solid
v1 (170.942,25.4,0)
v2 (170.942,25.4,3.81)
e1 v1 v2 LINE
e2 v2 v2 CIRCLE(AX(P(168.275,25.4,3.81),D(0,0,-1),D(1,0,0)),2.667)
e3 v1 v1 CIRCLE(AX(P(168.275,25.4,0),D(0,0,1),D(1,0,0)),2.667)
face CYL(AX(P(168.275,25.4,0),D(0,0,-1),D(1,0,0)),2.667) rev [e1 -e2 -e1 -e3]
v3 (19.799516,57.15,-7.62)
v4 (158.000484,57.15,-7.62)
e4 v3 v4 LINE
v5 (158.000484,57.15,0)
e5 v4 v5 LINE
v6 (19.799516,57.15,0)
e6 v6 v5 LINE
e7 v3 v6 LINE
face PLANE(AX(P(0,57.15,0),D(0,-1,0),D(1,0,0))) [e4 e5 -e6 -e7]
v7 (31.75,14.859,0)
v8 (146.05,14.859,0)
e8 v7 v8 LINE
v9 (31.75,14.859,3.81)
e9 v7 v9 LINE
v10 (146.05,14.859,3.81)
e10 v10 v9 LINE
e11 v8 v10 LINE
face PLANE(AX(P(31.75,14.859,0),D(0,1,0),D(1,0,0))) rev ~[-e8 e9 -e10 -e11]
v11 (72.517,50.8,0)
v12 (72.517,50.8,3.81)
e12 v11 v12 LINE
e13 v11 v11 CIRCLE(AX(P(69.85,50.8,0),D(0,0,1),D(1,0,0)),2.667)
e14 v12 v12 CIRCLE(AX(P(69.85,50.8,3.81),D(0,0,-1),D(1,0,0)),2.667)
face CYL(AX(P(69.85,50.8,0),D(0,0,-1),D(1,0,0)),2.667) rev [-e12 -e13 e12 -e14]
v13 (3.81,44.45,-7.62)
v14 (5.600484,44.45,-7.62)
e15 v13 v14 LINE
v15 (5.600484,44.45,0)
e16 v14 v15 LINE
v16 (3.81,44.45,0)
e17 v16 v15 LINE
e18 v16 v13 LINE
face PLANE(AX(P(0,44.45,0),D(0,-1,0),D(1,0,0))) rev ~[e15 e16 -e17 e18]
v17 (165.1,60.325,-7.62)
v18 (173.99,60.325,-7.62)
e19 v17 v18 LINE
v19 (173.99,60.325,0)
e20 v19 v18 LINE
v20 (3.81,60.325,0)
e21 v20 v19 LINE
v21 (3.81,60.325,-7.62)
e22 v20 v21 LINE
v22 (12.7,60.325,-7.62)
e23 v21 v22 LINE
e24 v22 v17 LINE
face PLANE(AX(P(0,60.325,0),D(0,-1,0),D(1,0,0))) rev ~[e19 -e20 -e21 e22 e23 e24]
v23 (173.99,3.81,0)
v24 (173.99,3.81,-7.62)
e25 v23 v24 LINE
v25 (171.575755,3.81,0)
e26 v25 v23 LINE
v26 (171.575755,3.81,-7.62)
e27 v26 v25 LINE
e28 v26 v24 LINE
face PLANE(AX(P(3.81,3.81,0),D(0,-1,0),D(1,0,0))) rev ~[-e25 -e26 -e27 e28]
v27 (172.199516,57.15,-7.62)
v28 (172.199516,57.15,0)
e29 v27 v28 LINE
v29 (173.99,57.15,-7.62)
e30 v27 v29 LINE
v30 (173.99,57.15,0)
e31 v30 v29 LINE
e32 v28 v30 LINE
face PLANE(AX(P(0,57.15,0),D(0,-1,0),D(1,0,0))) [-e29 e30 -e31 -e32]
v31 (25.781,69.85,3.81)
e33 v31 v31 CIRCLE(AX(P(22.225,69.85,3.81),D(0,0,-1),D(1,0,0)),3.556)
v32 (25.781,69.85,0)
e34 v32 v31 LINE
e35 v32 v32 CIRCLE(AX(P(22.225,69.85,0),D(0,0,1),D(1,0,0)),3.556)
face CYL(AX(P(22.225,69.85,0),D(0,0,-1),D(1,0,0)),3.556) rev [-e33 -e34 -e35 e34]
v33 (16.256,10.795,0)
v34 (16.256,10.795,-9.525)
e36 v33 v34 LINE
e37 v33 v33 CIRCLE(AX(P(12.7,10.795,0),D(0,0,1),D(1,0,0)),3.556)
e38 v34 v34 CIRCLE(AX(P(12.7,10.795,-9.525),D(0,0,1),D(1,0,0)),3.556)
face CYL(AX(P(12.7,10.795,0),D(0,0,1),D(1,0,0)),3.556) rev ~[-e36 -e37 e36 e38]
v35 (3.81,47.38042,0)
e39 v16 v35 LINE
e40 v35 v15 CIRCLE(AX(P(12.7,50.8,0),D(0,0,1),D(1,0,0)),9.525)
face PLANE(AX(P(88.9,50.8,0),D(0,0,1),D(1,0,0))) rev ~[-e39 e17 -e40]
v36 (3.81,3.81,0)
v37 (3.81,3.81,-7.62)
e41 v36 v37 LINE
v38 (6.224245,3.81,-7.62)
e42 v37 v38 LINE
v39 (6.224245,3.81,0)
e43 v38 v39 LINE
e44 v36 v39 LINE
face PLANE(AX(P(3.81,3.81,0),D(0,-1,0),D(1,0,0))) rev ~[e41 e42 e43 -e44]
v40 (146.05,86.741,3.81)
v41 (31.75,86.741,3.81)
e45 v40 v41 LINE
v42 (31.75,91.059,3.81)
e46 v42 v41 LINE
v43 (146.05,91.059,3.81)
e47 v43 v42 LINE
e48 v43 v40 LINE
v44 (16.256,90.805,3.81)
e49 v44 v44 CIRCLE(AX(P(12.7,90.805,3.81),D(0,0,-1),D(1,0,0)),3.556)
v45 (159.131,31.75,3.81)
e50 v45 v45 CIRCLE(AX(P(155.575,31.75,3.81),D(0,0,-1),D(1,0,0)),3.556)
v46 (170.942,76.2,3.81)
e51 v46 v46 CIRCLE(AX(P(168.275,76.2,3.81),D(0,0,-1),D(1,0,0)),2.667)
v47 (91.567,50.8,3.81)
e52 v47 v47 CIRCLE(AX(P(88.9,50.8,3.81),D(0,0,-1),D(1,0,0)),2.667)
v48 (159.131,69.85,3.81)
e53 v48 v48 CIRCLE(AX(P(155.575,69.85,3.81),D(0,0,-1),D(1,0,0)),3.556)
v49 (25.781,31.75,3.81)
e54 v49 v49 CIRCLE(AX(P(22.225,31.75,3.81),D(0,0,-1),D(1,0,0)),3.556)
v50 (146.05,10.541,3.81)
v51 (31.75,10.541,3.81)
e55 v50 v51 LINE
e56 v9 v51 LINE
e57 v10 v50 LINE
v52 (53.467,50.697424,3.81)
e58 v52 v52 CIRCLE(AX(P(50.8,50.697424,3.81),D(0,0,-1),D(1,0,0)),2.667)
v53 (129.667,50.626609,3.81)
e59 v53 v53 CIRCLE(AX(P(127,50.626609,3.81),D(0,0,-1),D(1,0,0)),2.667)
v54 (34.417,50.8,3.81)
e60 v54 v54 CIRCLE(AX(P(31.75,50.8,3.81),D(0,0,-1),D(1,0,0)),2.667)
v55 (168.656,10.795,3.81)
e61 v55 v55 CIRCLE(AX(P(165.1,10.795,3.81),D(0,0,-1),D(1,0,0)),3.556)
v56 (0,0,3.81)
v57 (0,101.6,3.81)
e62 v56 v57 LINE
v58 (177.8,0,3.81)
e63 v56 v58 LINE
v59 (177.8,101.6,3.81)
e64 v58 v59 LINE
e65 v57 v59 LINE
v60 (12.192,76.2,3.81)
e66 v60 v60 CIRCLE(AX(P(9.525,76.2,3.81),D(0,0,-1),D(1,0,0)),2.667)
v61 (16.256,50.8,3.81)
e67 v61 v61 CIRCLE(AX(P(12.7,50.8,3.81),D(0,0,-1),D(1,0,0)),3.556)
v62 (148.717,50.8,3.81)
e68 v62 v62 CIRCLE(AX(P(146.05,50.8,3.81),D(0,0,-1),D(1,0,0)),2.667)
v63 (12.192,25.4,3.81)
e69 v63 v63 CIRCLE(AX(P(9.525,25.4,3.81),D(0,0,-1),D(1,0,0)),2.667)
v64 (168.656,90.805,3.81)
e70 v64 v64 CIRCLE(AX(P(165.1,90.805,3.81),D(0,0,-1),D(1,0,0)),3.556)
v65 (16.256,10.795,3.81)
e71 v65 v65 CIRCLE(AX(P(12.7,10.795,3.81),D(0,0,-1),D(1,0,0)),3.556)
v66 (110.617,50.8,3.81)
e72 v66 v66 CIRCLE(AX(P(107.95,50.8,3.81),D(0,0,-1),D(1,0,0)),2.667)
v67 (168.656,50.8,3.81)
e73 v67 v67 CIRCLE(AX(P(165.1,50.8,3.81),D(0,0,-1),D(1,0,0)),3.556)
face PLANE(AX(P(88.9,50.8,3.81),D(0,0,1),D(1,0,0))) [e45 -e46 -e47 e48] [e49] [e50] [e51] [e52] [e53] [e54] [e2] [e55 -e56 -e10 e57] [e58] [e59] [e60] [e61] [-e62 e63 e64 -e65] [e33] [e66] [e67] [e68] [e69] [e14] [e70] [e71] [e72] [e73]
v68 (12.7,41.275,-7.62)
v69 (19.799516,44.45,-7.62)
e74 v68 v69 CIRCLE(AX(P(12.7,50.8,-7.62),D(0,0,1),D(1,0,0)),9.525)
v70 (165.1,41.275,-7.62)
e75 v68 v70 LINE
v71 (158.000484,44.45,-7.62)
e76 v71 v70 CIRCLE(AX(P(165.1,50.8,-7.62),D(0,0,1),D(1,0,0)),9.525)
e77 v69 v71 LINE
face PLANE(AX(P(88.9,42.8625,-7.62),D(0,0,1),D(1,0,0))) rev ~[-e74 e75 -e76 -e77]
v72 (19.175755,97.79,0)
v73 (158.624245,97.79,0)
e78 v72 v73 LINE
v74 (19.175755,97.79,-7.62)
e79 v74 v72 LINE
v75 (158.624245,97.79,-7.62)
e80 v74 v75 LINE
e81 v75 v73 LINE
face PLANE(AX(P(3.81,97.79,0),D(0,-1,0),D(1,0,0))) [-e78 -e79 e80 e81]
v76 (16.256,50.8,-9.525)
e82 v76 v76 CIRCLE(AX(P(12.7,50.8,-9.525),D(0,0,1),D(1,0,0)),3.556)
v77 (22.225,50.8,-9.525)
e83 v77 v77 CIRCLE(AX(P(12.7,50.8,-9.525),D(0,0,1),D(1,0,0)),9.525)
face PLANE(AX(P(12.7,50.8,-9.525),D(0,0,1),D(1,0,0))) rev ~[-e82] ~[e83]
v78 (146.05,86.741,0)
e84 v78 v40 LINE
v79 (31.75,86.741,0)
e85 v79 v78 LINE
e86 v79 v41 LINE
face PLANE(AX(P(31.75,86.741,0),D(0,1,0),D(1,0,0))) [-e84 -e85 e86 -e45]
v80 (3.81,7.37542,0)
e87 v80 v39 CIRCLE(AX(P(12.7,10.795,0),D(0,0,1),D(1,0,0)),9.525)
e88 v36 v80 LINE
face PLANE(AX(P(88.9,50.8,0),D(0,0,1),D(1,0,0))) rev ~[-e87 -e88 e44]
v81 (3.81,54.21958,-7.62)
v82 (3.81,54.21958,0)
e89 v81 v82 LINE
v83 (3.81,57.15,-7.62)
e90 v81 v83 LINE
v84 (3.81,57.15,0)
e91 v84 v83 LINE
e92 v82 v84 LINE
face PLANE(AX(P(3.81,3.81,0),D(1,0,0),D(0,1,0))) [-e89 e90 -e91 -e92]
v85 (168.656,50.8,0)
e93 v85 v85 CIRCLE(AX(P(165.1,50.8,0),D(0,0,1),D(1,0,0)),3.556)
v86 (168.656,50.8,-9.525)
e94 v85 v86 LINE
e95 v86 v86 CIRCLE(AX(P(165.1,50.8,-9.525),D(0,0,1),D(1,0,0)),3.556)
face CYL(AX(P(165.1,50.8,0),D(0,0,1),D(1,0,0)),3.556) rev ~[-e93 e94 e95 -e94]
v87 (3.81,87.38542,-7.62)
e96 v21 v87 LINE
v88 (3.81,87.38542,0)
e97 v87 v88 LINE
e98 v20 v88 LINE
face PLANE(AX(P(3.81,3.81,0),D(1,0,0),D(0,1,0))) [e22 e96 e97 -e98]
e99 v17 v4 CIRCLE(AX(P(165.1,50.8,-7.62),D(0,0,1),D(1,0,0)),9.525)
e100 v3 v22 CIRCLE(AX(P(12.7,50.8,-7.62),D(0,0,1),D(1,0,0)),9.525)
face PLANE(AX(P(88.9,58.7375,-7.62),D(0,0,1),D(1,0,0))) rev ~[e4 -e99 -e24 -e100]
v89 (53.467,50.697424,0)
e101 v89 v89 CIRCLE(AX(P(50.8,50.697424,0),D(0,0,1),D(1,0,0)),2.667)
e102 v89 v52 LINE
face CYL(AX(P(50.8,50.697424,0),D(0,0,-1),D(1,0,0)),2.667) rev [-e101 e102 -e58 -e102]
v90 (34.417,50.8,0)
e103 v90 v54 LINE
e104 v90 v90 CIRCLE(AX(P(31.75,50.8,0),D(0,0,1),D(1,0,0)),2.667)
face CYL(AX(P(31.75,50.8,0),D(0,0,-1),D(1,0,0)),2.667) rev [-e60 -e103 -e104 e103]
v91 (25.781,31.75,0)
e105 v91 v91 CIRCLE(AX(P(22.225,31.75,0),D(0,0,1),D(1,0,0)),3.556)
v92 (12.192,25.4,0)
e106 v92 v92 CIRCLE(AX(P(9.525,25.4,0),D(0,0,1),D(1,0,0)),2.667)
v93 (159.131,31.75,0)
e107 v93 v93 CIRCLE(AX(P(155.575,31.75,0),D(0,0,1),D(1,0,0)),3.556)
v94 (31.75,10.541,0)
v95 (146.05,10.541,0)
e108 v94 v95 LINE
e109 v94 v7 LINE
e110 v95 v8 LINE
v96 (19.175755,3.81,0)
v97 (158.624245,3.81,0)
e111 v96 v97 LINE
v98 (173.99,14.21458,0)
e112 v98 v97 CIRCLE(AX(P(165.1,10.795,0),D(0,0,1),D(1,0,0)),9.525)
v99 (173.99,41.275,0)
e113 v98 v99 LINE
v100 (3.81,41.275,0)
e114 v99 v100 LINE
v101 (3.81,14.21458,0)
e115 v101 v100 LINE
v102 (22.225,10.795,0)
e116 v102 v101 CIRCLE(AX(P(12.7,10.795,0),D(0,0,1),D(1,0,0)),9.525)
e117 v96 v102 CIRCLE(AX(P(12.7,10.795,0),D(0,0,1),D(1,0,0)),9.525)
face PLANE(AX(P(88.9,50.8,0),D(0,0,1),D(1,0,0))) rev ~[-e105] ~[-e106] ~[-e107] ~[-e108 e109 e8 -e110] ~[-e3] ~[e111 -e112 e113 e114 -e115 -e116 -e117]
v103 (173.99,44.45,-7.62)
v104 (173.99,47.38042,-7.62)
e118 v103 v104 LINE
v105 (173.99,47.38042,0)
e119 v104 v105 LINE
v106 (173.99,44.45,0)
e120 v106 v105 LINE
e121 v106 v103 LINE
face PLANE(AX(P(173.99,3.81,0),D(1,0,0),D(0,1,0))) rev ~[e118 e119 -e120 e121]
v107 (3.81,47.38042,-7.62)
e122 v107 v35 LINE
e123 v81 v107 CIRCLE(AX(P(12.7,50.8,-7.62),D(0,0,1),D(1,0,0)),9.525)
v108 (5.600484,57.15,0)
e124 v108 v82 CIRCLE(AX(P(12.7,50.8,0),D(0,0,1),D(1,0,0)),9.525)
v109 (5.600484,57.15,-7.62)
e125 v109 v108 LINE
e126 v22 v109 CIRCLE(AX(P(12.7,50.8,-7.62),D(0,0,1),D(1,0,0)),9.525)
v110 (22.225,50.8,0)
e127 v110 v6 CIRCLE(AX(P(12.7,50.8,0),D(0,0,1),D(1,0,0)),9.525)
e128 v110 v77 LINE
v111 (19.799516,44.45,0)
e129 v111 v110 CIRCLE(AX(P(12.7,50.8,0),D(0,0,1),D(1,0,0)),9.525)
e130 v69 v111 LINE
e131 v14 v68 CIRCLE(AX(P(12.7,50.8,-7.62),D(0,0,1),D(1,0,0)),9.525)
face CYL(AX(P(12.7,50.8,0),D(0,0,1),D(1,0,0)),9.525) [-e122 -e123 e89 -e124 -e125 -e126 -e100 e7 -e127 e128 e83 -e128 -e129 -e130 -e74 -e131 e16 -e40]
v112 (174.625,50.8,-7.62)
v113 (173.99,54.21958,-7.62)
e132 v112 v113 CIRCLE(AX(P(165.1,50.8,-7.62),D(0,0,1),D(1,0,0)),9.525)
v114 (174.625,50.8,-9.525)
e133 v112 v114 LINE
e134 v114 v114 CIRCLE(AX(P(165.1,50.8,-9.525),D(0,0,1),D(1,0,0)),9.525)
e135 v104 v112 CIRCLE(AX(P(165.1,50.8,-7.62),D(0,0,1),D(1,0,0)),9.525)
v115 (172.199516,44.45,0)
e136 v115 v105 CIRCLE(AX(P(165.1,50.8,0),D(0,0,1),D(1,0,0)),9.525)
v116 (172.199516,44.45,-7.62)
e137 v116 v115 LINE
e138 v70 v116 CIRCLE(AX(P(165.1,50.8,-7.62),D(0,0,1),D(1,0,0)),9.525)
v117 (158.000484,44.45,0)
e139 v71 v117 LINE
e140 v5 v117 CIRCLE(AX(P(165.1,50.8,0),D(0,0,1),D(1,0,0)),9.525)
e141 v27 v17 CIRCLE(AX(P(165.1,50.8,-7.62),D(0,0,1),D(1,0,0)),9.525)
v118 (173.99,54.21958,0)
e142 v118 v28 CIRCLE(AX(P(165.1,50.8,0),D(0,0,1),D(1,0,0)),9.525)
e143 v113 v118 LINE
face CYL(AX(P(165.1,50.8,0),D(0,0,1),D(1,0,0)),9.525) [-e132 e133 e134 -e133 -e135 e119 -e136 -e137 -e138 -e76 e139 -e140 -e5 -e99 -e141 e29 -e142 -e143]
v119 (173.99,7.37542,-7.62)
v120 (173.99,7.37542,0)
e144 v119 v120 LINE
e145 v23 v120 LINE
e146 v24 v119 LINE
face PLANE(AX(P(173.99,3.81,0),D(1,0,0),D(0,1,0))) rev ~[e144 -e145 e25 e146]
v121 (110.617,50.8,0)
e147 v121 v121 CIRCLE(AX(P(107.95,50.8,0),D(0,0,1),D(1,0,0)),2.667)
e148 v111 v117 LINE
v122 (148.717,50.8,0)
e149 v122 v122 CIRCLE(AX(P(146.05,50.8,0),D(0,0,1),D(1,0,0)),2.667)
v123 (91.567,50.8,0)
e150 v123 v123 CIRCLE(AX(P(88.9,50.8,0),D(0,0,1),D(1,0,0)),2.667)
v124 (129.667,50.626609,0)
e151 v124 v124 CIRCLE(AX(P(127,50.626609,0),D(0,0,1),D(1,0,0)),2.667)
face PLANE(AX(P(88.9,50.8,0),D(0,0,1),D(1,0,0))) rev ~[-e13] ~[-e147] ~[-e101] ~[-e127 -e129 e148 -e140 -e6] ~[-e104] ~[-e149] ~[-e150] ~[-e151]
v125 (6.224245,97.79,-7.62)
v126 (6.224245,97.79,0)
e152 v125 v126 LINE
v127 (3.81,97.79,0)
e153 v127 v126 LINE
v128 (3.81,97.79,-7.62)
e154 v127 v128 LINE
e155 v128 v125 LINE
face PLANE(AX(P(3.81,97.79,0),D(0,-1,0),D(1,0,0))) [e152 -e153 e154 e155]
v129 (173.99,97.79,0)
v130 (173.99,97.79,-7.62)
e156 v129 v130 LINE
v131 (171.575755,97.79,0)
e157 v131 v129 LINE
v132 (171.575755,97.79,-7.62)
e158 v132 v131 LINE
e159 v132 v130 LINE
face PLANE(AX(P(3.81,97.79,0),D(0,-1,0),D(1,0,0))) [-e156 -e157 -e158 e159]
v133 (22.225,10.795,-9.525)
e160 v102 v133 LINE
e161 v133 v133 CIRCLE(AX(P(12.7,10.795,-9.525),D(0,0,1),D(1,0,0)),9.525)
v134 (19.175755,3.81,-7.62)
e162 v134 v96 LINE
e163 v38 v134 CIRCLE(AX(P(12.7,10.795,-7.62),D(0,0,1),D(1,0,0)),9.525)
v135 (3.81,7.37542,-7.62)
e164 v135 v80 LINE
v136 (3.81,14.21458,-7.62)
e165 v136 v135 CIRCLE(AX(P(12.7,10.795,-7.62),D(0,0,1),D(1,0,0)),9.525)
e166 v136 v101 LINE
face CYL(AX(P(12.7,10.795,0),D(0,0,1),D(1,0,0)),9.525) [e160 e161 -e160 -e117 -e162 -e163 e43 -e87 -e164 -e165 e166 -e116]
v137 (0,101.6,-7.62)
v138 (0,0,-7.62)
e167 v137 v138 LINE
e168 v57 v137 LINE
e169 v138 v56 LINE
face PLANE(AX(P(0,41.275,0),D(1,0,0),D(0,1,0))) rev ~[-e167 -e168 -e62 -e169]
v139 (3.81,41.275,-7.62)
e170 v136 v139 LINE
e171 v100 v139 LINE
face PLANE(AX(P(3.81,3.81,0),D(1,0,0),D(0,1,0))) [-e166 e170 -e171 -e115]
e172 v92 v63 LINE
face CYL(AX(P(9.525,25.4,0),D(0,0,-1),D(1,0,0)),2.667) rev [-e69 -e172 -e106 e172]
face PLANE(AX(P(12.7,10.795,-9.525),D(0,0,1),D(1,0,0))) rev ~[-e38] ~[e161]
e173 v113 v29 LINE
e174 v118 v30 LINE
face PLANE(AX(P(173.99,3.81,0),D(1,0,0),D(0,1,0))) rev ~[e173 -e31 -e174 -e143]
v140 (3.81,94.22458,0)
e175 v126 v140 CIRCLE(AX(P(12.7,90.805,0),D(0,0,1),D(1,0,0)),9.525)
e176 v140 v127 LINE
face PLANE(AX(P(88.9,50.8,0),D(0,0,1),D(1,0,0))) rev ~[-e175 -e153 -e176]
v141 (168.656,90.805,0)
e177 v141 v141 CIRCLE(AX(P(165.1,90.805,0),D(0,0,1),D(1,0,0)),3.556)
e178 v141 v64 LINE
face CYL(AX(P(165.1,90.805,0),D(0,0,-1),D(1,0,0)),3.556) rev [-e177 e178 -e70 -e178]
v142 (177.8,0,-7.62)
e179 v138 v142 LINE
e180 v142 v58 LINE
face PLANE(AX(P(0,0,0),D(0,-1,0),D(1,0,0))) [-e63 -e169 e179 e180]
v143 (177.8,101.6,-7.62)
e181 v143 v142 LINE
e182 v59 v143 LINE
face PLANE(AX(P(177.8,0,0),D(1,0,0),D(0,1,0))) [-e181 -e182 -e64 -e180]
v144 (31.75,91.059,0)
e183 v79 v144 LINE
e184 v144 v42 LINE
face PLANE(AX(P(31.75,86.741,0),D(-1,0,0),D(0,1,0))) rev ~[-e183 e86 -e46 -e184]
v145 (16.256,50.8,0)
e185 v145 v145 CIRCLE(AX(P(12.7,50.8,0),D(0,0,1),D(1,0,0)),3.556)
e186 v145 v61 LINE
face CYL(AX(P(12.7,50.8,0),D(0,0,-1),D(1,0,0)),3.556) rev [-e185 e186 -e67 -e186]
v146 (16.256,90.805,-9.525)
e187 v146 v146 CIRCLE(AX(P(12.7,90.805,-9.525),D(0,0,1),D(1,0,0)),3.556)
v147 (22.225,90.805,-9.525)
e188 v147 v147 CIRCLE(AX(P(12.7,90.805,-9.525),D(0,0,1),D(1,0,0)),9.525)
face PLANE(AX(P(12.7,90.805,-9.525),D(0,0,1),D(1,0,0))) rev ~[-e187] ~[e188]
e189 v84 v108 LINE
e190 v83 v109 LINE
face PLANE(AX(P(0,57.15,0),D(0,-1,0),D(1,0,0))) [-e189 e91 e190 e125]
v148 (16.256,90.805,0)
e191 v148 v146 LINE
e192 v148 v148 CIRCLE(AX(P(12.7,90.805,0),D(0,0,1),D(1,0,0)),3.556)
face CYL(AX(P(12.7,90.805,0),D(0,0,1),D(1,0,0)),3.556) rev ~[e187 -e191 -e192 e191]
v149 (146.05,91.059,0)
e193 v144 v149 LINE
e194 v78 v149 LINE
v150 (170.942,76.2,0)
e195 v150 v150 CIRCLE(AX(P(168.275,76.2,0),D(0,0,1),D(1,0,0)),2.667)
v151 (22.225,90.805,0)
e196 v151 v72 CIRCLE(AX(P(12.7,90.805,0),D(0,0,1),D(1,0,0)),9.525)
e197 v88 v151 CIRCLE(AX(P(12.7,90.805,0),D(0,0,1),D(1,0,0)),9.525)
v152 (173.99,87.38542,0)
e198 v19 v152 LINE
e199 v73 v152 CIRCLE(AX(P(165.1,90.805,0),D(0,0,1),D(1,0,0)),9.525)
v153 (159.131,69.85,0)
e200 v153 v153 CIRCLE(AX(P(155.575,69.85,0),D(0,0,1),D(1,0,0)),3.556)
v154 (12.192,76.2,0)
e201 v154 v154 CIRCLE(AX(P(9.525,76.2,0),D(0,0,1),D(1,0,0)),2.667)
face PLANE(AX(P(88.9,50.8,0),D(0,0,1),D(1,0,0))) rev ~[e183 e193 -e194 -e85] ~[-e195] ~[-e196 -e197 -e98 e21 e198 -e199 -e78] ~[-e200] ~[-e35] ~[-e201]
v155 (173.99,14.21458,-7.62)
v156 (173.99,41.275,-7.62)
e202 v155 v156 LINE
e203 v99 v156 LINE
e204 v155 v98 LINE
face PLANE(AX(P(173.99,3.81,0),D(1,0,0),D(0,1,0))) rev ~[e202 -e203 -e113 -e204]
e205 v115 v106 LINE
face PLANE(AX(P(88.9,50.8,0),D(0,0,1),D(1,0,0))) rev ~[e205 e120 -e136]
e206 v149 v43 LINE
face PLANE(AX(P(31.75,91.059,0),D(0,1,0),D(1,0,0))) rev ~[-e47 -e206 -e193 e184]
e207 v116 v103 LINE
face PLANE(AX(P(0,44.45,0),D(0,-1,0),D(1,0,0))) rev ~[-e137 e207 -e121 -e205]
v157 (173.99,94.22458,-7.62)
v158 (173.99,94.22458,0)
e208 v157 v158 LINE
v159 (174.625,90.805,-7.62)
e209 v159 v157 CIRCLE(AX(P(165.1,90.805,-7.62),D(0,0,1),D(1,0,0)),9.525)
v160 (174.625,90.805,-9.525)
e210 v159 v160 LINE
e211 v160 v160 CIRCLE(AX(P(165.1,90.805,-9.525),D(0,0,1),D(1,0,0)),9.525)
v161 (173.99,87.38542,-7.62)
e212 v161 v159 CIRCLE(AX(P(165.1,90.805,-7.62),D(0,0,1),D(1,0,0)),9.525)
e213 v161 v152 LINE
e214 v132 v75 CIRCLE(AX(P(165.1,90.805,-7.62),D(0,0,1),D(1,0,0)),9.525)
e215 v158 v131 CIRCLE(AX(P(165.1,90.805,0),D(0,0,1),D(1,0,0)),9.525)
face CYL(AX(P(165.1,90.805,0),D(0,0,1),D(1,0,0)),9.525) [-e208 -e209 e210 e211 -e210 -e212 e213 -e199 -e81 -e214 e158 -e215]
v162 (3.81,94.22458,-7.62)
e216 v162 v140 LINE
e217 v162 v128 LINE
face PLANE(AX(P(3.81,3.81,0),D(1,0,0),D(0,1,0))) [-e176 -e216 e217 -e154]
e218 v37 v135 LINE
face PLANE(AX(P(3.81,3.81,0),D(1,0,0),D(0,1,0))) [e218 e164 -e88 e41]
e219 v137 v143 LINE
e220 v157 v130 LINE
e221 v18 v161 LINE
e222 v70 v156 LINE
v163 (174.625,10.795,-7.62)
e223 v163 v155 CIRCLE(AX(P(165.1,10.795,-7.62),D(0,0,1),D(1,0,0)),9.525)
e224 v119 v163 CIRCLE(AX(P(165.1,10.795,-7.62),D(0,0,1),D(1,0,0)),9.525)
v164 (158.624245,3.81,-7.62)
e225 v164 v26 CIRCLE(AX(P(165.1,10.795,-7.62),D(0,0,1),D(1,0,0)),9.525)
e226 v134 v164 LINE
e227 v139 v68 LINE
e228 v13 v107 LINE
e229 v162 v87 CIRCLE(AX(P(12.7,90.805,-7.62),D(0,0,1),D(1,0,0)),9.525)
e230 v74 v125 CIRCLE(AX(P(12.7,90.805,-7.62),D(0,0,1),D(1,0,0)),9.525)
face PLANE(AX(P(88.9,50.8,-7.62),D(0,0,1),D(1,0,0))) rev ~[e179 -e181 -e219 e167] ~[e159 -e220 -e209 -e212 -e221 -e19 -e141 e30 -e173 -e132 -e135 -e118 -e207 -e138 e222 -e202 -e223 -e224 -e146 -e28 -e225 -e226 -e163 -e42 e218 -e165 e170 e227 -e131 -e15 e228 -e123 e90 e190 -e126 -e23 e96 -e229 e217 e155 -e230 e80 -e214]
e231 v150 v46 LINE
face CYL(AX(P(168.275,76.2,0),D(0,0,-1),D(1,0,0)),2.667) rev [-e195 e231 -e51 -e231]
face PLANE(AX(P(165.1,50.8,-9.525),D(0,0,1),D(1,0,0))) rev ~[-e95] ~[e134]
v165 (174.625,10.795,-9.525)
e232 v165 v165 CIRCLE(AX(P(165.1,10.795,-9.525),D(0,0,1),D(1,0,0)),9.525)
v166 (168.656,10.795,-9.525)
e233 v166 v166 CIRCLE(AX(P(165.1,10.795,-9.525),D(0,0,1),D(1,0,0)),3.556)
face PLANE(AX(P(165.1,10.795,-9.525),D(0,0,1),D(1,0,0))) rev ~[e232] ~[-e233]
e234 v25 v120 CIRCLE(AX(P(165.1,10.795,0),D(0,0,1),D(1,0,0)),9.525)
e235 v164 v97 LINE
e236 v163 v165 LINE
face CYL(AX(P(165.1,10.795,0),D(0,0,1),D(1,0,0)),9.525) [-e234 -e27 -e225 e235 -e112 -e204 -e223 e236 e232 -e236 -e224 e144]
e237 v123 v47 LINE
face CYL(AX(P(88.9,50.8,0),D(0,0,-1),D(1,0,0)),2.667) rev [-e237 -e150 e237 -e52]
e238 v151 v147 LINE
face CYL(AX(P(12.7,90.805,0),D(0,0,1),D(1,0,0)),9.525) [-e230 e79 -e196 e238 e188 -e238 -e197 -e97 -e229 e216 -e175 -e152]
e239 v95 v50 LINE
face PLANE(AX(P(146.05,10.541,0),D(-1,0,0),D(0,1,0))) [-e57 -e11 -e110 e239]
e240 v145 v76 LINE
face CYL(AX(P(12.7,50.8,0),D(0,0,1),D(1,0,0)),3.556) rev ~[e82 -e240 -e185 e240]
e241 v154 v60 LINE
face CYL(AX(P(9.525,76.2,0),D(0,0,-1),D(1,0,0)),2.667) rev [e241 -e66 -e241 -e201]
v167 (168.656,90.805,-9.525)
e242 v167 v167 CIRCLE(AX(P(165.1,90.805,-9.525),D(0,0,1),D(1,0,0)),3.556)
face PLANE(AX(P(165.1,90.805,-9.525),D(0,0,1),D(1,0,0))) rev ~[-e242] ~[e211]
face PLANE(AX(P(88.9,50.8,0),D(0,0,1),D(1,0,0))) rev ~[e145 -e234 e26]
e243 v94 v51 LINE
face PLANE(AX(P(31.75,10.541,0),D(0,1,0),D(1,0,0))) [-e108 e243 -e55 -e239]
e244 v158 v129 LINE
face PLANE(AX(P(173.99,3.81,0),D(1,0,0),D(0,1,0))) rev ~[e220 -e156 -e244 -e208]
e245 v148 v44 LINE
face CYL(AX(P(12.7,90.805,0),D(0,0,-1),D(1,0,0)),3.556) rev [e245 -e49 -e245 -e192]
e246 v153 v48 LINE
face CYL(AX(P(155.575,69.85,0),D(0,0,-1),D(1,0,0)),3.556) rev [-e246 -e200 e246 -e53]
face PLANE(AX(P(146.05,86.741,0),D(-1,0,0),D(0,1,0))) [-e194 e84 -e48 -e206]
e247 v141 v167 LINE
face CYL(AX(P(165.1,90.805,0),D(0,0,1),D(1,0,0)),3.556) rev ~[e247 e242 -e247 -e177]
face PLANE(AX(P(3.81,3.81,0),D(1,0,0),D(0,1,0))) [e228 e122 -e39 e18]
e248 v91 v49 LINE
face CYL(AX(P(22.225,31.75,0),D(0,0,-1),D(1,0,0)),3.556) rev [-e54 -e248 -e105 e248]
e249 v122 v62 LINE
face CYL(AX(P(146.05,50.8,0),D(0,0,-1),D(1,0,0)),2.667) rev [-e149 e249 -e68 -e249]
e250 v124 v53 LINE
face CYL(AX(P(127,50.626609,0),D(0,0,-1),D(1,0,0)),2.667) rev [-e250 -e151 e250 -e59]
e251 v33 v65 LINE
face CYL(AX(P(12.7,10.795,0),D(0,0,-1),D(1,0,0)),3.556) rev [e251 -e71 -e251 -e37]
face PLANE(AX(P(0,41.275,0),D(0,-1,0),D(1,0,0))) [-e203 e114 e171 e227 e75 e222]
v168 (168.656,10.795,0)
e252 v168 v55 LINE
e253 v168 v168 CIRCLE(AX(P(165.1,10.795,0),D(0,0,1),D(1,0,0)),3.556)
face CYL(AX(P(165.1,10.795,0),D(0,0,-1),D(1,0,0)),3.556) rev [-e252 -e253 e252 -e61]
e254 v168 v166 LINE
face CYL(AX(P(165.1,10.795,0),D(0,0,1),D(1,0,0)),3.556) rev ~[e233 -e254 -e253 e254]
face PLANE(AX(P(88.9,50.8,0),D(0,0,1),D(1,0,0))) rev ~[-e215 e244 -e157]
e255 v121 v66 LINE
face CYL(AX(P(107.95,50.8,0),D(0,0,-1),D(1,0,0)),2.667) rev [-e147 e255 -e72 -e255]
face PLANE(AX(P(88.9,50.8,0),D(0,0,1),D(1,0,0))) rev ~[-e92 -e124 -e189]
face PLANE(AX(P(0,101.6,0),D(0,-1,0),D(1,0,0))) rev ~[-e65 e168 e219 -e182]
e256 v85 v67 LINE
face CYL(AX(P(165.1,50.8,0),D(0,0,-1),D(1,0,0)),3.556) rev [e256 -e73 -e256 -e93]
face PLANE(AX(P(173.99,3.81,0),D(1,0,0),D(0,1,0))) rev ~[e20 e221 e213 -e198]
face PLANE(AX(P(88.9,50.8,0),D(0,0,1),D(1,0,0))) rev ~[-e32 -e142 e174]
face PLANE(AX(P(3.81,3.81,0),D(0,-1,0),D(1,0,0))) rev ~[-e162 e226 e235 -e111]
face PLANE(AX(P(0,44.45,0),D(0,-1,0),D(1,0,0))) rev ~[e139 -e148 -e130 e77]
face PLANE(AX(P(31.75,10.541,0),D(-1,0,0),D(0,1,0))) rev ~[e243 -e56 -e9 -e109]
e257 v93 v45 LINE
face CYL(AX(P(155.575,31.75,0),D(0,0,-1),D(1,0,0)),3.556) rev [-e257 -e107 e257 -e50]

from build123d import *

# Parameters (mm, degrees)
F0_W           = 177.8
F0_H           = 101.6
F1_DEPTH       = 3.81
F3_W           = 114.3
F3_H           = 4.318
F4_DEPTH       = 3.811
F5_R           = 9.525
F6_DEPTH       = 9.525
F8_W           = 177.8
F8_H           = 101.6
F8_W_2         = 170.18
F8_H_2         = 93.98
F9_DEPTH       = 7.62
F10_R          = 3.556
F11_DEPTH      = 9.526
F11_DEPTH_BACK = 3.811
F7_W           = 177.8
F7_H           = 3.175
F13_DEPTH      = 7.62
F2_R           = 3.556
F14_DEPTH      = 3.811
F12_R          = 2.667
F15_DEPTH      = 3.811


with BuildPart() as f1:
    # F0 (on Top) → F1 (new body)
    with BuildSketch(Plane.XY):
        with Locations((88.9, 50.8)):
            Rectangle(F0_W, F0_H)
    extrude(amount=F1_DEPTH)

    # F3 (on Top) → F4 (cut, through all)
    with BuildSketch(Plane.XY):
        with Locations((88.9, 88.9)):
            Rectangle(F3_W, F3_H)
        with Locations((88.9, 12.7)):
            Rectangle(F3_W, F3_H)
    extrude(amount=F4_DEPTH, mode=Mode.SUBTRACT)

    # F5 (on Top) → F6 (join)
    with BuildSketch(Plane.XY):
        with Locations((12.7, 50.8)):
            Circle(F5_R)
        with Locations((12.7, 90.805)):
            Circle(F5_R)
        with Locations((12.7, 10.795)):
            Circle(F5_R)
        with Locations((165.1, 90.805)):
            Circle(F5_R)
        with Locations((165.1, 50.8)):
            Circle(F5_R)
        with Locations((165.1, 10.795)):
            Circle(F5_R)
    extrude(amount=-F6_DEPTH)

    # F8 (on Top) → F9 (join)
    with BuildSketch(Plane.XY):
        with Locations((88.9, 50.8)):
            Rectangle(F8_W, F8_H)
        with Locations((88.9, 50.8)):
            Rectangle(F8_W_2, F8_H_2, mode=Mode.SUBTRACT)
    extrude(amount=-F9_DEPTH)

    # F10 (on Top) → F11 (cut, two sides)
    with BuildSketch(Plane.XY) as f11_sk:
        with Locations((165.1, 50.8)):
            Circle(F10_R)
        with Locations((165.1, 90.805)):
            Circle(F10_R)
        with Locations((12.7, 10.795)):
            Circle(F10_R)
        with Locations((12.7, 50.8)):
            Circle(F10_R)
        with Locations((12.7, 90.805)):
            Circle(F10_R)
        with Locations((165.1, 10.795)):
            Circle(F10_R)
    extrude(amount=-F11_DEPTH, mode=Mode.SUBTRACT)
    extrude(f11_sk.sketch, amount=F11_DEPTH_BACK, mode=Mode.SUBTRACT)

    # F7 (on Top) → F13 (join)
    with BuildSketch(Plane.XY):
        with Locations((88.9, 42.8625)):
            Rectangle(F7_W, F7_H)
        with Locations((88.9, 58.7375)):
            Rectangle(F7_W, F7_H)
    extrude(amount=-F13_DEPTH)

    # F2 (on Top) → F14 (cut, through all)
    with BuildSketch(Plane.XY):
        with Locations((22.225, 69.85)):
            Circle(F2_R)
        with Locations((22.225, 31.75)):
            Circle(F2_R)
        with Locations((155.575, 69.85)):
            Circle(F2_R)
        with Locations((155.575, 31.75)):
            Circle(F2_R)
    extrude(amount=F14_DEPTH, mode=Mode.SUBTRACT)

    # F12 (on Top) → F15 (cut, through all)
    with BuildSketch(Plane.XY):
        with Locations((31.75, 50.8)):
            Circle(F12_R)
        with Locations((88.9, 50.8)):
            Circle(F12_R)
        with Locations((146.05, 50.8)):
            Circle(F12_R)
        with Locations((9.525, 25.4)):
            Circle(F12_R)
        with Locations((9.525, 76.2)):
            Circle(F12_R)
        with Locations((168.275, 25.4)):
            Circle(F12_R)
        with Locations((168.275, 76.2)):
            Circle(F12_R)
        with Locations((69.85, 50.8)):
            Circle(F12_R)
        with Locations((107.95, 50.8)):
            Circle(F12_R)
        with Locations((50.8, 50.6974235177)):
            Circle(F12_R)
        with Locations((127, 50.6266094744)):
            Circle(F12_R)
    extrude(amount=F15_DEPTH, mode=Mode.SUBTRACT)


solid = f1.part
